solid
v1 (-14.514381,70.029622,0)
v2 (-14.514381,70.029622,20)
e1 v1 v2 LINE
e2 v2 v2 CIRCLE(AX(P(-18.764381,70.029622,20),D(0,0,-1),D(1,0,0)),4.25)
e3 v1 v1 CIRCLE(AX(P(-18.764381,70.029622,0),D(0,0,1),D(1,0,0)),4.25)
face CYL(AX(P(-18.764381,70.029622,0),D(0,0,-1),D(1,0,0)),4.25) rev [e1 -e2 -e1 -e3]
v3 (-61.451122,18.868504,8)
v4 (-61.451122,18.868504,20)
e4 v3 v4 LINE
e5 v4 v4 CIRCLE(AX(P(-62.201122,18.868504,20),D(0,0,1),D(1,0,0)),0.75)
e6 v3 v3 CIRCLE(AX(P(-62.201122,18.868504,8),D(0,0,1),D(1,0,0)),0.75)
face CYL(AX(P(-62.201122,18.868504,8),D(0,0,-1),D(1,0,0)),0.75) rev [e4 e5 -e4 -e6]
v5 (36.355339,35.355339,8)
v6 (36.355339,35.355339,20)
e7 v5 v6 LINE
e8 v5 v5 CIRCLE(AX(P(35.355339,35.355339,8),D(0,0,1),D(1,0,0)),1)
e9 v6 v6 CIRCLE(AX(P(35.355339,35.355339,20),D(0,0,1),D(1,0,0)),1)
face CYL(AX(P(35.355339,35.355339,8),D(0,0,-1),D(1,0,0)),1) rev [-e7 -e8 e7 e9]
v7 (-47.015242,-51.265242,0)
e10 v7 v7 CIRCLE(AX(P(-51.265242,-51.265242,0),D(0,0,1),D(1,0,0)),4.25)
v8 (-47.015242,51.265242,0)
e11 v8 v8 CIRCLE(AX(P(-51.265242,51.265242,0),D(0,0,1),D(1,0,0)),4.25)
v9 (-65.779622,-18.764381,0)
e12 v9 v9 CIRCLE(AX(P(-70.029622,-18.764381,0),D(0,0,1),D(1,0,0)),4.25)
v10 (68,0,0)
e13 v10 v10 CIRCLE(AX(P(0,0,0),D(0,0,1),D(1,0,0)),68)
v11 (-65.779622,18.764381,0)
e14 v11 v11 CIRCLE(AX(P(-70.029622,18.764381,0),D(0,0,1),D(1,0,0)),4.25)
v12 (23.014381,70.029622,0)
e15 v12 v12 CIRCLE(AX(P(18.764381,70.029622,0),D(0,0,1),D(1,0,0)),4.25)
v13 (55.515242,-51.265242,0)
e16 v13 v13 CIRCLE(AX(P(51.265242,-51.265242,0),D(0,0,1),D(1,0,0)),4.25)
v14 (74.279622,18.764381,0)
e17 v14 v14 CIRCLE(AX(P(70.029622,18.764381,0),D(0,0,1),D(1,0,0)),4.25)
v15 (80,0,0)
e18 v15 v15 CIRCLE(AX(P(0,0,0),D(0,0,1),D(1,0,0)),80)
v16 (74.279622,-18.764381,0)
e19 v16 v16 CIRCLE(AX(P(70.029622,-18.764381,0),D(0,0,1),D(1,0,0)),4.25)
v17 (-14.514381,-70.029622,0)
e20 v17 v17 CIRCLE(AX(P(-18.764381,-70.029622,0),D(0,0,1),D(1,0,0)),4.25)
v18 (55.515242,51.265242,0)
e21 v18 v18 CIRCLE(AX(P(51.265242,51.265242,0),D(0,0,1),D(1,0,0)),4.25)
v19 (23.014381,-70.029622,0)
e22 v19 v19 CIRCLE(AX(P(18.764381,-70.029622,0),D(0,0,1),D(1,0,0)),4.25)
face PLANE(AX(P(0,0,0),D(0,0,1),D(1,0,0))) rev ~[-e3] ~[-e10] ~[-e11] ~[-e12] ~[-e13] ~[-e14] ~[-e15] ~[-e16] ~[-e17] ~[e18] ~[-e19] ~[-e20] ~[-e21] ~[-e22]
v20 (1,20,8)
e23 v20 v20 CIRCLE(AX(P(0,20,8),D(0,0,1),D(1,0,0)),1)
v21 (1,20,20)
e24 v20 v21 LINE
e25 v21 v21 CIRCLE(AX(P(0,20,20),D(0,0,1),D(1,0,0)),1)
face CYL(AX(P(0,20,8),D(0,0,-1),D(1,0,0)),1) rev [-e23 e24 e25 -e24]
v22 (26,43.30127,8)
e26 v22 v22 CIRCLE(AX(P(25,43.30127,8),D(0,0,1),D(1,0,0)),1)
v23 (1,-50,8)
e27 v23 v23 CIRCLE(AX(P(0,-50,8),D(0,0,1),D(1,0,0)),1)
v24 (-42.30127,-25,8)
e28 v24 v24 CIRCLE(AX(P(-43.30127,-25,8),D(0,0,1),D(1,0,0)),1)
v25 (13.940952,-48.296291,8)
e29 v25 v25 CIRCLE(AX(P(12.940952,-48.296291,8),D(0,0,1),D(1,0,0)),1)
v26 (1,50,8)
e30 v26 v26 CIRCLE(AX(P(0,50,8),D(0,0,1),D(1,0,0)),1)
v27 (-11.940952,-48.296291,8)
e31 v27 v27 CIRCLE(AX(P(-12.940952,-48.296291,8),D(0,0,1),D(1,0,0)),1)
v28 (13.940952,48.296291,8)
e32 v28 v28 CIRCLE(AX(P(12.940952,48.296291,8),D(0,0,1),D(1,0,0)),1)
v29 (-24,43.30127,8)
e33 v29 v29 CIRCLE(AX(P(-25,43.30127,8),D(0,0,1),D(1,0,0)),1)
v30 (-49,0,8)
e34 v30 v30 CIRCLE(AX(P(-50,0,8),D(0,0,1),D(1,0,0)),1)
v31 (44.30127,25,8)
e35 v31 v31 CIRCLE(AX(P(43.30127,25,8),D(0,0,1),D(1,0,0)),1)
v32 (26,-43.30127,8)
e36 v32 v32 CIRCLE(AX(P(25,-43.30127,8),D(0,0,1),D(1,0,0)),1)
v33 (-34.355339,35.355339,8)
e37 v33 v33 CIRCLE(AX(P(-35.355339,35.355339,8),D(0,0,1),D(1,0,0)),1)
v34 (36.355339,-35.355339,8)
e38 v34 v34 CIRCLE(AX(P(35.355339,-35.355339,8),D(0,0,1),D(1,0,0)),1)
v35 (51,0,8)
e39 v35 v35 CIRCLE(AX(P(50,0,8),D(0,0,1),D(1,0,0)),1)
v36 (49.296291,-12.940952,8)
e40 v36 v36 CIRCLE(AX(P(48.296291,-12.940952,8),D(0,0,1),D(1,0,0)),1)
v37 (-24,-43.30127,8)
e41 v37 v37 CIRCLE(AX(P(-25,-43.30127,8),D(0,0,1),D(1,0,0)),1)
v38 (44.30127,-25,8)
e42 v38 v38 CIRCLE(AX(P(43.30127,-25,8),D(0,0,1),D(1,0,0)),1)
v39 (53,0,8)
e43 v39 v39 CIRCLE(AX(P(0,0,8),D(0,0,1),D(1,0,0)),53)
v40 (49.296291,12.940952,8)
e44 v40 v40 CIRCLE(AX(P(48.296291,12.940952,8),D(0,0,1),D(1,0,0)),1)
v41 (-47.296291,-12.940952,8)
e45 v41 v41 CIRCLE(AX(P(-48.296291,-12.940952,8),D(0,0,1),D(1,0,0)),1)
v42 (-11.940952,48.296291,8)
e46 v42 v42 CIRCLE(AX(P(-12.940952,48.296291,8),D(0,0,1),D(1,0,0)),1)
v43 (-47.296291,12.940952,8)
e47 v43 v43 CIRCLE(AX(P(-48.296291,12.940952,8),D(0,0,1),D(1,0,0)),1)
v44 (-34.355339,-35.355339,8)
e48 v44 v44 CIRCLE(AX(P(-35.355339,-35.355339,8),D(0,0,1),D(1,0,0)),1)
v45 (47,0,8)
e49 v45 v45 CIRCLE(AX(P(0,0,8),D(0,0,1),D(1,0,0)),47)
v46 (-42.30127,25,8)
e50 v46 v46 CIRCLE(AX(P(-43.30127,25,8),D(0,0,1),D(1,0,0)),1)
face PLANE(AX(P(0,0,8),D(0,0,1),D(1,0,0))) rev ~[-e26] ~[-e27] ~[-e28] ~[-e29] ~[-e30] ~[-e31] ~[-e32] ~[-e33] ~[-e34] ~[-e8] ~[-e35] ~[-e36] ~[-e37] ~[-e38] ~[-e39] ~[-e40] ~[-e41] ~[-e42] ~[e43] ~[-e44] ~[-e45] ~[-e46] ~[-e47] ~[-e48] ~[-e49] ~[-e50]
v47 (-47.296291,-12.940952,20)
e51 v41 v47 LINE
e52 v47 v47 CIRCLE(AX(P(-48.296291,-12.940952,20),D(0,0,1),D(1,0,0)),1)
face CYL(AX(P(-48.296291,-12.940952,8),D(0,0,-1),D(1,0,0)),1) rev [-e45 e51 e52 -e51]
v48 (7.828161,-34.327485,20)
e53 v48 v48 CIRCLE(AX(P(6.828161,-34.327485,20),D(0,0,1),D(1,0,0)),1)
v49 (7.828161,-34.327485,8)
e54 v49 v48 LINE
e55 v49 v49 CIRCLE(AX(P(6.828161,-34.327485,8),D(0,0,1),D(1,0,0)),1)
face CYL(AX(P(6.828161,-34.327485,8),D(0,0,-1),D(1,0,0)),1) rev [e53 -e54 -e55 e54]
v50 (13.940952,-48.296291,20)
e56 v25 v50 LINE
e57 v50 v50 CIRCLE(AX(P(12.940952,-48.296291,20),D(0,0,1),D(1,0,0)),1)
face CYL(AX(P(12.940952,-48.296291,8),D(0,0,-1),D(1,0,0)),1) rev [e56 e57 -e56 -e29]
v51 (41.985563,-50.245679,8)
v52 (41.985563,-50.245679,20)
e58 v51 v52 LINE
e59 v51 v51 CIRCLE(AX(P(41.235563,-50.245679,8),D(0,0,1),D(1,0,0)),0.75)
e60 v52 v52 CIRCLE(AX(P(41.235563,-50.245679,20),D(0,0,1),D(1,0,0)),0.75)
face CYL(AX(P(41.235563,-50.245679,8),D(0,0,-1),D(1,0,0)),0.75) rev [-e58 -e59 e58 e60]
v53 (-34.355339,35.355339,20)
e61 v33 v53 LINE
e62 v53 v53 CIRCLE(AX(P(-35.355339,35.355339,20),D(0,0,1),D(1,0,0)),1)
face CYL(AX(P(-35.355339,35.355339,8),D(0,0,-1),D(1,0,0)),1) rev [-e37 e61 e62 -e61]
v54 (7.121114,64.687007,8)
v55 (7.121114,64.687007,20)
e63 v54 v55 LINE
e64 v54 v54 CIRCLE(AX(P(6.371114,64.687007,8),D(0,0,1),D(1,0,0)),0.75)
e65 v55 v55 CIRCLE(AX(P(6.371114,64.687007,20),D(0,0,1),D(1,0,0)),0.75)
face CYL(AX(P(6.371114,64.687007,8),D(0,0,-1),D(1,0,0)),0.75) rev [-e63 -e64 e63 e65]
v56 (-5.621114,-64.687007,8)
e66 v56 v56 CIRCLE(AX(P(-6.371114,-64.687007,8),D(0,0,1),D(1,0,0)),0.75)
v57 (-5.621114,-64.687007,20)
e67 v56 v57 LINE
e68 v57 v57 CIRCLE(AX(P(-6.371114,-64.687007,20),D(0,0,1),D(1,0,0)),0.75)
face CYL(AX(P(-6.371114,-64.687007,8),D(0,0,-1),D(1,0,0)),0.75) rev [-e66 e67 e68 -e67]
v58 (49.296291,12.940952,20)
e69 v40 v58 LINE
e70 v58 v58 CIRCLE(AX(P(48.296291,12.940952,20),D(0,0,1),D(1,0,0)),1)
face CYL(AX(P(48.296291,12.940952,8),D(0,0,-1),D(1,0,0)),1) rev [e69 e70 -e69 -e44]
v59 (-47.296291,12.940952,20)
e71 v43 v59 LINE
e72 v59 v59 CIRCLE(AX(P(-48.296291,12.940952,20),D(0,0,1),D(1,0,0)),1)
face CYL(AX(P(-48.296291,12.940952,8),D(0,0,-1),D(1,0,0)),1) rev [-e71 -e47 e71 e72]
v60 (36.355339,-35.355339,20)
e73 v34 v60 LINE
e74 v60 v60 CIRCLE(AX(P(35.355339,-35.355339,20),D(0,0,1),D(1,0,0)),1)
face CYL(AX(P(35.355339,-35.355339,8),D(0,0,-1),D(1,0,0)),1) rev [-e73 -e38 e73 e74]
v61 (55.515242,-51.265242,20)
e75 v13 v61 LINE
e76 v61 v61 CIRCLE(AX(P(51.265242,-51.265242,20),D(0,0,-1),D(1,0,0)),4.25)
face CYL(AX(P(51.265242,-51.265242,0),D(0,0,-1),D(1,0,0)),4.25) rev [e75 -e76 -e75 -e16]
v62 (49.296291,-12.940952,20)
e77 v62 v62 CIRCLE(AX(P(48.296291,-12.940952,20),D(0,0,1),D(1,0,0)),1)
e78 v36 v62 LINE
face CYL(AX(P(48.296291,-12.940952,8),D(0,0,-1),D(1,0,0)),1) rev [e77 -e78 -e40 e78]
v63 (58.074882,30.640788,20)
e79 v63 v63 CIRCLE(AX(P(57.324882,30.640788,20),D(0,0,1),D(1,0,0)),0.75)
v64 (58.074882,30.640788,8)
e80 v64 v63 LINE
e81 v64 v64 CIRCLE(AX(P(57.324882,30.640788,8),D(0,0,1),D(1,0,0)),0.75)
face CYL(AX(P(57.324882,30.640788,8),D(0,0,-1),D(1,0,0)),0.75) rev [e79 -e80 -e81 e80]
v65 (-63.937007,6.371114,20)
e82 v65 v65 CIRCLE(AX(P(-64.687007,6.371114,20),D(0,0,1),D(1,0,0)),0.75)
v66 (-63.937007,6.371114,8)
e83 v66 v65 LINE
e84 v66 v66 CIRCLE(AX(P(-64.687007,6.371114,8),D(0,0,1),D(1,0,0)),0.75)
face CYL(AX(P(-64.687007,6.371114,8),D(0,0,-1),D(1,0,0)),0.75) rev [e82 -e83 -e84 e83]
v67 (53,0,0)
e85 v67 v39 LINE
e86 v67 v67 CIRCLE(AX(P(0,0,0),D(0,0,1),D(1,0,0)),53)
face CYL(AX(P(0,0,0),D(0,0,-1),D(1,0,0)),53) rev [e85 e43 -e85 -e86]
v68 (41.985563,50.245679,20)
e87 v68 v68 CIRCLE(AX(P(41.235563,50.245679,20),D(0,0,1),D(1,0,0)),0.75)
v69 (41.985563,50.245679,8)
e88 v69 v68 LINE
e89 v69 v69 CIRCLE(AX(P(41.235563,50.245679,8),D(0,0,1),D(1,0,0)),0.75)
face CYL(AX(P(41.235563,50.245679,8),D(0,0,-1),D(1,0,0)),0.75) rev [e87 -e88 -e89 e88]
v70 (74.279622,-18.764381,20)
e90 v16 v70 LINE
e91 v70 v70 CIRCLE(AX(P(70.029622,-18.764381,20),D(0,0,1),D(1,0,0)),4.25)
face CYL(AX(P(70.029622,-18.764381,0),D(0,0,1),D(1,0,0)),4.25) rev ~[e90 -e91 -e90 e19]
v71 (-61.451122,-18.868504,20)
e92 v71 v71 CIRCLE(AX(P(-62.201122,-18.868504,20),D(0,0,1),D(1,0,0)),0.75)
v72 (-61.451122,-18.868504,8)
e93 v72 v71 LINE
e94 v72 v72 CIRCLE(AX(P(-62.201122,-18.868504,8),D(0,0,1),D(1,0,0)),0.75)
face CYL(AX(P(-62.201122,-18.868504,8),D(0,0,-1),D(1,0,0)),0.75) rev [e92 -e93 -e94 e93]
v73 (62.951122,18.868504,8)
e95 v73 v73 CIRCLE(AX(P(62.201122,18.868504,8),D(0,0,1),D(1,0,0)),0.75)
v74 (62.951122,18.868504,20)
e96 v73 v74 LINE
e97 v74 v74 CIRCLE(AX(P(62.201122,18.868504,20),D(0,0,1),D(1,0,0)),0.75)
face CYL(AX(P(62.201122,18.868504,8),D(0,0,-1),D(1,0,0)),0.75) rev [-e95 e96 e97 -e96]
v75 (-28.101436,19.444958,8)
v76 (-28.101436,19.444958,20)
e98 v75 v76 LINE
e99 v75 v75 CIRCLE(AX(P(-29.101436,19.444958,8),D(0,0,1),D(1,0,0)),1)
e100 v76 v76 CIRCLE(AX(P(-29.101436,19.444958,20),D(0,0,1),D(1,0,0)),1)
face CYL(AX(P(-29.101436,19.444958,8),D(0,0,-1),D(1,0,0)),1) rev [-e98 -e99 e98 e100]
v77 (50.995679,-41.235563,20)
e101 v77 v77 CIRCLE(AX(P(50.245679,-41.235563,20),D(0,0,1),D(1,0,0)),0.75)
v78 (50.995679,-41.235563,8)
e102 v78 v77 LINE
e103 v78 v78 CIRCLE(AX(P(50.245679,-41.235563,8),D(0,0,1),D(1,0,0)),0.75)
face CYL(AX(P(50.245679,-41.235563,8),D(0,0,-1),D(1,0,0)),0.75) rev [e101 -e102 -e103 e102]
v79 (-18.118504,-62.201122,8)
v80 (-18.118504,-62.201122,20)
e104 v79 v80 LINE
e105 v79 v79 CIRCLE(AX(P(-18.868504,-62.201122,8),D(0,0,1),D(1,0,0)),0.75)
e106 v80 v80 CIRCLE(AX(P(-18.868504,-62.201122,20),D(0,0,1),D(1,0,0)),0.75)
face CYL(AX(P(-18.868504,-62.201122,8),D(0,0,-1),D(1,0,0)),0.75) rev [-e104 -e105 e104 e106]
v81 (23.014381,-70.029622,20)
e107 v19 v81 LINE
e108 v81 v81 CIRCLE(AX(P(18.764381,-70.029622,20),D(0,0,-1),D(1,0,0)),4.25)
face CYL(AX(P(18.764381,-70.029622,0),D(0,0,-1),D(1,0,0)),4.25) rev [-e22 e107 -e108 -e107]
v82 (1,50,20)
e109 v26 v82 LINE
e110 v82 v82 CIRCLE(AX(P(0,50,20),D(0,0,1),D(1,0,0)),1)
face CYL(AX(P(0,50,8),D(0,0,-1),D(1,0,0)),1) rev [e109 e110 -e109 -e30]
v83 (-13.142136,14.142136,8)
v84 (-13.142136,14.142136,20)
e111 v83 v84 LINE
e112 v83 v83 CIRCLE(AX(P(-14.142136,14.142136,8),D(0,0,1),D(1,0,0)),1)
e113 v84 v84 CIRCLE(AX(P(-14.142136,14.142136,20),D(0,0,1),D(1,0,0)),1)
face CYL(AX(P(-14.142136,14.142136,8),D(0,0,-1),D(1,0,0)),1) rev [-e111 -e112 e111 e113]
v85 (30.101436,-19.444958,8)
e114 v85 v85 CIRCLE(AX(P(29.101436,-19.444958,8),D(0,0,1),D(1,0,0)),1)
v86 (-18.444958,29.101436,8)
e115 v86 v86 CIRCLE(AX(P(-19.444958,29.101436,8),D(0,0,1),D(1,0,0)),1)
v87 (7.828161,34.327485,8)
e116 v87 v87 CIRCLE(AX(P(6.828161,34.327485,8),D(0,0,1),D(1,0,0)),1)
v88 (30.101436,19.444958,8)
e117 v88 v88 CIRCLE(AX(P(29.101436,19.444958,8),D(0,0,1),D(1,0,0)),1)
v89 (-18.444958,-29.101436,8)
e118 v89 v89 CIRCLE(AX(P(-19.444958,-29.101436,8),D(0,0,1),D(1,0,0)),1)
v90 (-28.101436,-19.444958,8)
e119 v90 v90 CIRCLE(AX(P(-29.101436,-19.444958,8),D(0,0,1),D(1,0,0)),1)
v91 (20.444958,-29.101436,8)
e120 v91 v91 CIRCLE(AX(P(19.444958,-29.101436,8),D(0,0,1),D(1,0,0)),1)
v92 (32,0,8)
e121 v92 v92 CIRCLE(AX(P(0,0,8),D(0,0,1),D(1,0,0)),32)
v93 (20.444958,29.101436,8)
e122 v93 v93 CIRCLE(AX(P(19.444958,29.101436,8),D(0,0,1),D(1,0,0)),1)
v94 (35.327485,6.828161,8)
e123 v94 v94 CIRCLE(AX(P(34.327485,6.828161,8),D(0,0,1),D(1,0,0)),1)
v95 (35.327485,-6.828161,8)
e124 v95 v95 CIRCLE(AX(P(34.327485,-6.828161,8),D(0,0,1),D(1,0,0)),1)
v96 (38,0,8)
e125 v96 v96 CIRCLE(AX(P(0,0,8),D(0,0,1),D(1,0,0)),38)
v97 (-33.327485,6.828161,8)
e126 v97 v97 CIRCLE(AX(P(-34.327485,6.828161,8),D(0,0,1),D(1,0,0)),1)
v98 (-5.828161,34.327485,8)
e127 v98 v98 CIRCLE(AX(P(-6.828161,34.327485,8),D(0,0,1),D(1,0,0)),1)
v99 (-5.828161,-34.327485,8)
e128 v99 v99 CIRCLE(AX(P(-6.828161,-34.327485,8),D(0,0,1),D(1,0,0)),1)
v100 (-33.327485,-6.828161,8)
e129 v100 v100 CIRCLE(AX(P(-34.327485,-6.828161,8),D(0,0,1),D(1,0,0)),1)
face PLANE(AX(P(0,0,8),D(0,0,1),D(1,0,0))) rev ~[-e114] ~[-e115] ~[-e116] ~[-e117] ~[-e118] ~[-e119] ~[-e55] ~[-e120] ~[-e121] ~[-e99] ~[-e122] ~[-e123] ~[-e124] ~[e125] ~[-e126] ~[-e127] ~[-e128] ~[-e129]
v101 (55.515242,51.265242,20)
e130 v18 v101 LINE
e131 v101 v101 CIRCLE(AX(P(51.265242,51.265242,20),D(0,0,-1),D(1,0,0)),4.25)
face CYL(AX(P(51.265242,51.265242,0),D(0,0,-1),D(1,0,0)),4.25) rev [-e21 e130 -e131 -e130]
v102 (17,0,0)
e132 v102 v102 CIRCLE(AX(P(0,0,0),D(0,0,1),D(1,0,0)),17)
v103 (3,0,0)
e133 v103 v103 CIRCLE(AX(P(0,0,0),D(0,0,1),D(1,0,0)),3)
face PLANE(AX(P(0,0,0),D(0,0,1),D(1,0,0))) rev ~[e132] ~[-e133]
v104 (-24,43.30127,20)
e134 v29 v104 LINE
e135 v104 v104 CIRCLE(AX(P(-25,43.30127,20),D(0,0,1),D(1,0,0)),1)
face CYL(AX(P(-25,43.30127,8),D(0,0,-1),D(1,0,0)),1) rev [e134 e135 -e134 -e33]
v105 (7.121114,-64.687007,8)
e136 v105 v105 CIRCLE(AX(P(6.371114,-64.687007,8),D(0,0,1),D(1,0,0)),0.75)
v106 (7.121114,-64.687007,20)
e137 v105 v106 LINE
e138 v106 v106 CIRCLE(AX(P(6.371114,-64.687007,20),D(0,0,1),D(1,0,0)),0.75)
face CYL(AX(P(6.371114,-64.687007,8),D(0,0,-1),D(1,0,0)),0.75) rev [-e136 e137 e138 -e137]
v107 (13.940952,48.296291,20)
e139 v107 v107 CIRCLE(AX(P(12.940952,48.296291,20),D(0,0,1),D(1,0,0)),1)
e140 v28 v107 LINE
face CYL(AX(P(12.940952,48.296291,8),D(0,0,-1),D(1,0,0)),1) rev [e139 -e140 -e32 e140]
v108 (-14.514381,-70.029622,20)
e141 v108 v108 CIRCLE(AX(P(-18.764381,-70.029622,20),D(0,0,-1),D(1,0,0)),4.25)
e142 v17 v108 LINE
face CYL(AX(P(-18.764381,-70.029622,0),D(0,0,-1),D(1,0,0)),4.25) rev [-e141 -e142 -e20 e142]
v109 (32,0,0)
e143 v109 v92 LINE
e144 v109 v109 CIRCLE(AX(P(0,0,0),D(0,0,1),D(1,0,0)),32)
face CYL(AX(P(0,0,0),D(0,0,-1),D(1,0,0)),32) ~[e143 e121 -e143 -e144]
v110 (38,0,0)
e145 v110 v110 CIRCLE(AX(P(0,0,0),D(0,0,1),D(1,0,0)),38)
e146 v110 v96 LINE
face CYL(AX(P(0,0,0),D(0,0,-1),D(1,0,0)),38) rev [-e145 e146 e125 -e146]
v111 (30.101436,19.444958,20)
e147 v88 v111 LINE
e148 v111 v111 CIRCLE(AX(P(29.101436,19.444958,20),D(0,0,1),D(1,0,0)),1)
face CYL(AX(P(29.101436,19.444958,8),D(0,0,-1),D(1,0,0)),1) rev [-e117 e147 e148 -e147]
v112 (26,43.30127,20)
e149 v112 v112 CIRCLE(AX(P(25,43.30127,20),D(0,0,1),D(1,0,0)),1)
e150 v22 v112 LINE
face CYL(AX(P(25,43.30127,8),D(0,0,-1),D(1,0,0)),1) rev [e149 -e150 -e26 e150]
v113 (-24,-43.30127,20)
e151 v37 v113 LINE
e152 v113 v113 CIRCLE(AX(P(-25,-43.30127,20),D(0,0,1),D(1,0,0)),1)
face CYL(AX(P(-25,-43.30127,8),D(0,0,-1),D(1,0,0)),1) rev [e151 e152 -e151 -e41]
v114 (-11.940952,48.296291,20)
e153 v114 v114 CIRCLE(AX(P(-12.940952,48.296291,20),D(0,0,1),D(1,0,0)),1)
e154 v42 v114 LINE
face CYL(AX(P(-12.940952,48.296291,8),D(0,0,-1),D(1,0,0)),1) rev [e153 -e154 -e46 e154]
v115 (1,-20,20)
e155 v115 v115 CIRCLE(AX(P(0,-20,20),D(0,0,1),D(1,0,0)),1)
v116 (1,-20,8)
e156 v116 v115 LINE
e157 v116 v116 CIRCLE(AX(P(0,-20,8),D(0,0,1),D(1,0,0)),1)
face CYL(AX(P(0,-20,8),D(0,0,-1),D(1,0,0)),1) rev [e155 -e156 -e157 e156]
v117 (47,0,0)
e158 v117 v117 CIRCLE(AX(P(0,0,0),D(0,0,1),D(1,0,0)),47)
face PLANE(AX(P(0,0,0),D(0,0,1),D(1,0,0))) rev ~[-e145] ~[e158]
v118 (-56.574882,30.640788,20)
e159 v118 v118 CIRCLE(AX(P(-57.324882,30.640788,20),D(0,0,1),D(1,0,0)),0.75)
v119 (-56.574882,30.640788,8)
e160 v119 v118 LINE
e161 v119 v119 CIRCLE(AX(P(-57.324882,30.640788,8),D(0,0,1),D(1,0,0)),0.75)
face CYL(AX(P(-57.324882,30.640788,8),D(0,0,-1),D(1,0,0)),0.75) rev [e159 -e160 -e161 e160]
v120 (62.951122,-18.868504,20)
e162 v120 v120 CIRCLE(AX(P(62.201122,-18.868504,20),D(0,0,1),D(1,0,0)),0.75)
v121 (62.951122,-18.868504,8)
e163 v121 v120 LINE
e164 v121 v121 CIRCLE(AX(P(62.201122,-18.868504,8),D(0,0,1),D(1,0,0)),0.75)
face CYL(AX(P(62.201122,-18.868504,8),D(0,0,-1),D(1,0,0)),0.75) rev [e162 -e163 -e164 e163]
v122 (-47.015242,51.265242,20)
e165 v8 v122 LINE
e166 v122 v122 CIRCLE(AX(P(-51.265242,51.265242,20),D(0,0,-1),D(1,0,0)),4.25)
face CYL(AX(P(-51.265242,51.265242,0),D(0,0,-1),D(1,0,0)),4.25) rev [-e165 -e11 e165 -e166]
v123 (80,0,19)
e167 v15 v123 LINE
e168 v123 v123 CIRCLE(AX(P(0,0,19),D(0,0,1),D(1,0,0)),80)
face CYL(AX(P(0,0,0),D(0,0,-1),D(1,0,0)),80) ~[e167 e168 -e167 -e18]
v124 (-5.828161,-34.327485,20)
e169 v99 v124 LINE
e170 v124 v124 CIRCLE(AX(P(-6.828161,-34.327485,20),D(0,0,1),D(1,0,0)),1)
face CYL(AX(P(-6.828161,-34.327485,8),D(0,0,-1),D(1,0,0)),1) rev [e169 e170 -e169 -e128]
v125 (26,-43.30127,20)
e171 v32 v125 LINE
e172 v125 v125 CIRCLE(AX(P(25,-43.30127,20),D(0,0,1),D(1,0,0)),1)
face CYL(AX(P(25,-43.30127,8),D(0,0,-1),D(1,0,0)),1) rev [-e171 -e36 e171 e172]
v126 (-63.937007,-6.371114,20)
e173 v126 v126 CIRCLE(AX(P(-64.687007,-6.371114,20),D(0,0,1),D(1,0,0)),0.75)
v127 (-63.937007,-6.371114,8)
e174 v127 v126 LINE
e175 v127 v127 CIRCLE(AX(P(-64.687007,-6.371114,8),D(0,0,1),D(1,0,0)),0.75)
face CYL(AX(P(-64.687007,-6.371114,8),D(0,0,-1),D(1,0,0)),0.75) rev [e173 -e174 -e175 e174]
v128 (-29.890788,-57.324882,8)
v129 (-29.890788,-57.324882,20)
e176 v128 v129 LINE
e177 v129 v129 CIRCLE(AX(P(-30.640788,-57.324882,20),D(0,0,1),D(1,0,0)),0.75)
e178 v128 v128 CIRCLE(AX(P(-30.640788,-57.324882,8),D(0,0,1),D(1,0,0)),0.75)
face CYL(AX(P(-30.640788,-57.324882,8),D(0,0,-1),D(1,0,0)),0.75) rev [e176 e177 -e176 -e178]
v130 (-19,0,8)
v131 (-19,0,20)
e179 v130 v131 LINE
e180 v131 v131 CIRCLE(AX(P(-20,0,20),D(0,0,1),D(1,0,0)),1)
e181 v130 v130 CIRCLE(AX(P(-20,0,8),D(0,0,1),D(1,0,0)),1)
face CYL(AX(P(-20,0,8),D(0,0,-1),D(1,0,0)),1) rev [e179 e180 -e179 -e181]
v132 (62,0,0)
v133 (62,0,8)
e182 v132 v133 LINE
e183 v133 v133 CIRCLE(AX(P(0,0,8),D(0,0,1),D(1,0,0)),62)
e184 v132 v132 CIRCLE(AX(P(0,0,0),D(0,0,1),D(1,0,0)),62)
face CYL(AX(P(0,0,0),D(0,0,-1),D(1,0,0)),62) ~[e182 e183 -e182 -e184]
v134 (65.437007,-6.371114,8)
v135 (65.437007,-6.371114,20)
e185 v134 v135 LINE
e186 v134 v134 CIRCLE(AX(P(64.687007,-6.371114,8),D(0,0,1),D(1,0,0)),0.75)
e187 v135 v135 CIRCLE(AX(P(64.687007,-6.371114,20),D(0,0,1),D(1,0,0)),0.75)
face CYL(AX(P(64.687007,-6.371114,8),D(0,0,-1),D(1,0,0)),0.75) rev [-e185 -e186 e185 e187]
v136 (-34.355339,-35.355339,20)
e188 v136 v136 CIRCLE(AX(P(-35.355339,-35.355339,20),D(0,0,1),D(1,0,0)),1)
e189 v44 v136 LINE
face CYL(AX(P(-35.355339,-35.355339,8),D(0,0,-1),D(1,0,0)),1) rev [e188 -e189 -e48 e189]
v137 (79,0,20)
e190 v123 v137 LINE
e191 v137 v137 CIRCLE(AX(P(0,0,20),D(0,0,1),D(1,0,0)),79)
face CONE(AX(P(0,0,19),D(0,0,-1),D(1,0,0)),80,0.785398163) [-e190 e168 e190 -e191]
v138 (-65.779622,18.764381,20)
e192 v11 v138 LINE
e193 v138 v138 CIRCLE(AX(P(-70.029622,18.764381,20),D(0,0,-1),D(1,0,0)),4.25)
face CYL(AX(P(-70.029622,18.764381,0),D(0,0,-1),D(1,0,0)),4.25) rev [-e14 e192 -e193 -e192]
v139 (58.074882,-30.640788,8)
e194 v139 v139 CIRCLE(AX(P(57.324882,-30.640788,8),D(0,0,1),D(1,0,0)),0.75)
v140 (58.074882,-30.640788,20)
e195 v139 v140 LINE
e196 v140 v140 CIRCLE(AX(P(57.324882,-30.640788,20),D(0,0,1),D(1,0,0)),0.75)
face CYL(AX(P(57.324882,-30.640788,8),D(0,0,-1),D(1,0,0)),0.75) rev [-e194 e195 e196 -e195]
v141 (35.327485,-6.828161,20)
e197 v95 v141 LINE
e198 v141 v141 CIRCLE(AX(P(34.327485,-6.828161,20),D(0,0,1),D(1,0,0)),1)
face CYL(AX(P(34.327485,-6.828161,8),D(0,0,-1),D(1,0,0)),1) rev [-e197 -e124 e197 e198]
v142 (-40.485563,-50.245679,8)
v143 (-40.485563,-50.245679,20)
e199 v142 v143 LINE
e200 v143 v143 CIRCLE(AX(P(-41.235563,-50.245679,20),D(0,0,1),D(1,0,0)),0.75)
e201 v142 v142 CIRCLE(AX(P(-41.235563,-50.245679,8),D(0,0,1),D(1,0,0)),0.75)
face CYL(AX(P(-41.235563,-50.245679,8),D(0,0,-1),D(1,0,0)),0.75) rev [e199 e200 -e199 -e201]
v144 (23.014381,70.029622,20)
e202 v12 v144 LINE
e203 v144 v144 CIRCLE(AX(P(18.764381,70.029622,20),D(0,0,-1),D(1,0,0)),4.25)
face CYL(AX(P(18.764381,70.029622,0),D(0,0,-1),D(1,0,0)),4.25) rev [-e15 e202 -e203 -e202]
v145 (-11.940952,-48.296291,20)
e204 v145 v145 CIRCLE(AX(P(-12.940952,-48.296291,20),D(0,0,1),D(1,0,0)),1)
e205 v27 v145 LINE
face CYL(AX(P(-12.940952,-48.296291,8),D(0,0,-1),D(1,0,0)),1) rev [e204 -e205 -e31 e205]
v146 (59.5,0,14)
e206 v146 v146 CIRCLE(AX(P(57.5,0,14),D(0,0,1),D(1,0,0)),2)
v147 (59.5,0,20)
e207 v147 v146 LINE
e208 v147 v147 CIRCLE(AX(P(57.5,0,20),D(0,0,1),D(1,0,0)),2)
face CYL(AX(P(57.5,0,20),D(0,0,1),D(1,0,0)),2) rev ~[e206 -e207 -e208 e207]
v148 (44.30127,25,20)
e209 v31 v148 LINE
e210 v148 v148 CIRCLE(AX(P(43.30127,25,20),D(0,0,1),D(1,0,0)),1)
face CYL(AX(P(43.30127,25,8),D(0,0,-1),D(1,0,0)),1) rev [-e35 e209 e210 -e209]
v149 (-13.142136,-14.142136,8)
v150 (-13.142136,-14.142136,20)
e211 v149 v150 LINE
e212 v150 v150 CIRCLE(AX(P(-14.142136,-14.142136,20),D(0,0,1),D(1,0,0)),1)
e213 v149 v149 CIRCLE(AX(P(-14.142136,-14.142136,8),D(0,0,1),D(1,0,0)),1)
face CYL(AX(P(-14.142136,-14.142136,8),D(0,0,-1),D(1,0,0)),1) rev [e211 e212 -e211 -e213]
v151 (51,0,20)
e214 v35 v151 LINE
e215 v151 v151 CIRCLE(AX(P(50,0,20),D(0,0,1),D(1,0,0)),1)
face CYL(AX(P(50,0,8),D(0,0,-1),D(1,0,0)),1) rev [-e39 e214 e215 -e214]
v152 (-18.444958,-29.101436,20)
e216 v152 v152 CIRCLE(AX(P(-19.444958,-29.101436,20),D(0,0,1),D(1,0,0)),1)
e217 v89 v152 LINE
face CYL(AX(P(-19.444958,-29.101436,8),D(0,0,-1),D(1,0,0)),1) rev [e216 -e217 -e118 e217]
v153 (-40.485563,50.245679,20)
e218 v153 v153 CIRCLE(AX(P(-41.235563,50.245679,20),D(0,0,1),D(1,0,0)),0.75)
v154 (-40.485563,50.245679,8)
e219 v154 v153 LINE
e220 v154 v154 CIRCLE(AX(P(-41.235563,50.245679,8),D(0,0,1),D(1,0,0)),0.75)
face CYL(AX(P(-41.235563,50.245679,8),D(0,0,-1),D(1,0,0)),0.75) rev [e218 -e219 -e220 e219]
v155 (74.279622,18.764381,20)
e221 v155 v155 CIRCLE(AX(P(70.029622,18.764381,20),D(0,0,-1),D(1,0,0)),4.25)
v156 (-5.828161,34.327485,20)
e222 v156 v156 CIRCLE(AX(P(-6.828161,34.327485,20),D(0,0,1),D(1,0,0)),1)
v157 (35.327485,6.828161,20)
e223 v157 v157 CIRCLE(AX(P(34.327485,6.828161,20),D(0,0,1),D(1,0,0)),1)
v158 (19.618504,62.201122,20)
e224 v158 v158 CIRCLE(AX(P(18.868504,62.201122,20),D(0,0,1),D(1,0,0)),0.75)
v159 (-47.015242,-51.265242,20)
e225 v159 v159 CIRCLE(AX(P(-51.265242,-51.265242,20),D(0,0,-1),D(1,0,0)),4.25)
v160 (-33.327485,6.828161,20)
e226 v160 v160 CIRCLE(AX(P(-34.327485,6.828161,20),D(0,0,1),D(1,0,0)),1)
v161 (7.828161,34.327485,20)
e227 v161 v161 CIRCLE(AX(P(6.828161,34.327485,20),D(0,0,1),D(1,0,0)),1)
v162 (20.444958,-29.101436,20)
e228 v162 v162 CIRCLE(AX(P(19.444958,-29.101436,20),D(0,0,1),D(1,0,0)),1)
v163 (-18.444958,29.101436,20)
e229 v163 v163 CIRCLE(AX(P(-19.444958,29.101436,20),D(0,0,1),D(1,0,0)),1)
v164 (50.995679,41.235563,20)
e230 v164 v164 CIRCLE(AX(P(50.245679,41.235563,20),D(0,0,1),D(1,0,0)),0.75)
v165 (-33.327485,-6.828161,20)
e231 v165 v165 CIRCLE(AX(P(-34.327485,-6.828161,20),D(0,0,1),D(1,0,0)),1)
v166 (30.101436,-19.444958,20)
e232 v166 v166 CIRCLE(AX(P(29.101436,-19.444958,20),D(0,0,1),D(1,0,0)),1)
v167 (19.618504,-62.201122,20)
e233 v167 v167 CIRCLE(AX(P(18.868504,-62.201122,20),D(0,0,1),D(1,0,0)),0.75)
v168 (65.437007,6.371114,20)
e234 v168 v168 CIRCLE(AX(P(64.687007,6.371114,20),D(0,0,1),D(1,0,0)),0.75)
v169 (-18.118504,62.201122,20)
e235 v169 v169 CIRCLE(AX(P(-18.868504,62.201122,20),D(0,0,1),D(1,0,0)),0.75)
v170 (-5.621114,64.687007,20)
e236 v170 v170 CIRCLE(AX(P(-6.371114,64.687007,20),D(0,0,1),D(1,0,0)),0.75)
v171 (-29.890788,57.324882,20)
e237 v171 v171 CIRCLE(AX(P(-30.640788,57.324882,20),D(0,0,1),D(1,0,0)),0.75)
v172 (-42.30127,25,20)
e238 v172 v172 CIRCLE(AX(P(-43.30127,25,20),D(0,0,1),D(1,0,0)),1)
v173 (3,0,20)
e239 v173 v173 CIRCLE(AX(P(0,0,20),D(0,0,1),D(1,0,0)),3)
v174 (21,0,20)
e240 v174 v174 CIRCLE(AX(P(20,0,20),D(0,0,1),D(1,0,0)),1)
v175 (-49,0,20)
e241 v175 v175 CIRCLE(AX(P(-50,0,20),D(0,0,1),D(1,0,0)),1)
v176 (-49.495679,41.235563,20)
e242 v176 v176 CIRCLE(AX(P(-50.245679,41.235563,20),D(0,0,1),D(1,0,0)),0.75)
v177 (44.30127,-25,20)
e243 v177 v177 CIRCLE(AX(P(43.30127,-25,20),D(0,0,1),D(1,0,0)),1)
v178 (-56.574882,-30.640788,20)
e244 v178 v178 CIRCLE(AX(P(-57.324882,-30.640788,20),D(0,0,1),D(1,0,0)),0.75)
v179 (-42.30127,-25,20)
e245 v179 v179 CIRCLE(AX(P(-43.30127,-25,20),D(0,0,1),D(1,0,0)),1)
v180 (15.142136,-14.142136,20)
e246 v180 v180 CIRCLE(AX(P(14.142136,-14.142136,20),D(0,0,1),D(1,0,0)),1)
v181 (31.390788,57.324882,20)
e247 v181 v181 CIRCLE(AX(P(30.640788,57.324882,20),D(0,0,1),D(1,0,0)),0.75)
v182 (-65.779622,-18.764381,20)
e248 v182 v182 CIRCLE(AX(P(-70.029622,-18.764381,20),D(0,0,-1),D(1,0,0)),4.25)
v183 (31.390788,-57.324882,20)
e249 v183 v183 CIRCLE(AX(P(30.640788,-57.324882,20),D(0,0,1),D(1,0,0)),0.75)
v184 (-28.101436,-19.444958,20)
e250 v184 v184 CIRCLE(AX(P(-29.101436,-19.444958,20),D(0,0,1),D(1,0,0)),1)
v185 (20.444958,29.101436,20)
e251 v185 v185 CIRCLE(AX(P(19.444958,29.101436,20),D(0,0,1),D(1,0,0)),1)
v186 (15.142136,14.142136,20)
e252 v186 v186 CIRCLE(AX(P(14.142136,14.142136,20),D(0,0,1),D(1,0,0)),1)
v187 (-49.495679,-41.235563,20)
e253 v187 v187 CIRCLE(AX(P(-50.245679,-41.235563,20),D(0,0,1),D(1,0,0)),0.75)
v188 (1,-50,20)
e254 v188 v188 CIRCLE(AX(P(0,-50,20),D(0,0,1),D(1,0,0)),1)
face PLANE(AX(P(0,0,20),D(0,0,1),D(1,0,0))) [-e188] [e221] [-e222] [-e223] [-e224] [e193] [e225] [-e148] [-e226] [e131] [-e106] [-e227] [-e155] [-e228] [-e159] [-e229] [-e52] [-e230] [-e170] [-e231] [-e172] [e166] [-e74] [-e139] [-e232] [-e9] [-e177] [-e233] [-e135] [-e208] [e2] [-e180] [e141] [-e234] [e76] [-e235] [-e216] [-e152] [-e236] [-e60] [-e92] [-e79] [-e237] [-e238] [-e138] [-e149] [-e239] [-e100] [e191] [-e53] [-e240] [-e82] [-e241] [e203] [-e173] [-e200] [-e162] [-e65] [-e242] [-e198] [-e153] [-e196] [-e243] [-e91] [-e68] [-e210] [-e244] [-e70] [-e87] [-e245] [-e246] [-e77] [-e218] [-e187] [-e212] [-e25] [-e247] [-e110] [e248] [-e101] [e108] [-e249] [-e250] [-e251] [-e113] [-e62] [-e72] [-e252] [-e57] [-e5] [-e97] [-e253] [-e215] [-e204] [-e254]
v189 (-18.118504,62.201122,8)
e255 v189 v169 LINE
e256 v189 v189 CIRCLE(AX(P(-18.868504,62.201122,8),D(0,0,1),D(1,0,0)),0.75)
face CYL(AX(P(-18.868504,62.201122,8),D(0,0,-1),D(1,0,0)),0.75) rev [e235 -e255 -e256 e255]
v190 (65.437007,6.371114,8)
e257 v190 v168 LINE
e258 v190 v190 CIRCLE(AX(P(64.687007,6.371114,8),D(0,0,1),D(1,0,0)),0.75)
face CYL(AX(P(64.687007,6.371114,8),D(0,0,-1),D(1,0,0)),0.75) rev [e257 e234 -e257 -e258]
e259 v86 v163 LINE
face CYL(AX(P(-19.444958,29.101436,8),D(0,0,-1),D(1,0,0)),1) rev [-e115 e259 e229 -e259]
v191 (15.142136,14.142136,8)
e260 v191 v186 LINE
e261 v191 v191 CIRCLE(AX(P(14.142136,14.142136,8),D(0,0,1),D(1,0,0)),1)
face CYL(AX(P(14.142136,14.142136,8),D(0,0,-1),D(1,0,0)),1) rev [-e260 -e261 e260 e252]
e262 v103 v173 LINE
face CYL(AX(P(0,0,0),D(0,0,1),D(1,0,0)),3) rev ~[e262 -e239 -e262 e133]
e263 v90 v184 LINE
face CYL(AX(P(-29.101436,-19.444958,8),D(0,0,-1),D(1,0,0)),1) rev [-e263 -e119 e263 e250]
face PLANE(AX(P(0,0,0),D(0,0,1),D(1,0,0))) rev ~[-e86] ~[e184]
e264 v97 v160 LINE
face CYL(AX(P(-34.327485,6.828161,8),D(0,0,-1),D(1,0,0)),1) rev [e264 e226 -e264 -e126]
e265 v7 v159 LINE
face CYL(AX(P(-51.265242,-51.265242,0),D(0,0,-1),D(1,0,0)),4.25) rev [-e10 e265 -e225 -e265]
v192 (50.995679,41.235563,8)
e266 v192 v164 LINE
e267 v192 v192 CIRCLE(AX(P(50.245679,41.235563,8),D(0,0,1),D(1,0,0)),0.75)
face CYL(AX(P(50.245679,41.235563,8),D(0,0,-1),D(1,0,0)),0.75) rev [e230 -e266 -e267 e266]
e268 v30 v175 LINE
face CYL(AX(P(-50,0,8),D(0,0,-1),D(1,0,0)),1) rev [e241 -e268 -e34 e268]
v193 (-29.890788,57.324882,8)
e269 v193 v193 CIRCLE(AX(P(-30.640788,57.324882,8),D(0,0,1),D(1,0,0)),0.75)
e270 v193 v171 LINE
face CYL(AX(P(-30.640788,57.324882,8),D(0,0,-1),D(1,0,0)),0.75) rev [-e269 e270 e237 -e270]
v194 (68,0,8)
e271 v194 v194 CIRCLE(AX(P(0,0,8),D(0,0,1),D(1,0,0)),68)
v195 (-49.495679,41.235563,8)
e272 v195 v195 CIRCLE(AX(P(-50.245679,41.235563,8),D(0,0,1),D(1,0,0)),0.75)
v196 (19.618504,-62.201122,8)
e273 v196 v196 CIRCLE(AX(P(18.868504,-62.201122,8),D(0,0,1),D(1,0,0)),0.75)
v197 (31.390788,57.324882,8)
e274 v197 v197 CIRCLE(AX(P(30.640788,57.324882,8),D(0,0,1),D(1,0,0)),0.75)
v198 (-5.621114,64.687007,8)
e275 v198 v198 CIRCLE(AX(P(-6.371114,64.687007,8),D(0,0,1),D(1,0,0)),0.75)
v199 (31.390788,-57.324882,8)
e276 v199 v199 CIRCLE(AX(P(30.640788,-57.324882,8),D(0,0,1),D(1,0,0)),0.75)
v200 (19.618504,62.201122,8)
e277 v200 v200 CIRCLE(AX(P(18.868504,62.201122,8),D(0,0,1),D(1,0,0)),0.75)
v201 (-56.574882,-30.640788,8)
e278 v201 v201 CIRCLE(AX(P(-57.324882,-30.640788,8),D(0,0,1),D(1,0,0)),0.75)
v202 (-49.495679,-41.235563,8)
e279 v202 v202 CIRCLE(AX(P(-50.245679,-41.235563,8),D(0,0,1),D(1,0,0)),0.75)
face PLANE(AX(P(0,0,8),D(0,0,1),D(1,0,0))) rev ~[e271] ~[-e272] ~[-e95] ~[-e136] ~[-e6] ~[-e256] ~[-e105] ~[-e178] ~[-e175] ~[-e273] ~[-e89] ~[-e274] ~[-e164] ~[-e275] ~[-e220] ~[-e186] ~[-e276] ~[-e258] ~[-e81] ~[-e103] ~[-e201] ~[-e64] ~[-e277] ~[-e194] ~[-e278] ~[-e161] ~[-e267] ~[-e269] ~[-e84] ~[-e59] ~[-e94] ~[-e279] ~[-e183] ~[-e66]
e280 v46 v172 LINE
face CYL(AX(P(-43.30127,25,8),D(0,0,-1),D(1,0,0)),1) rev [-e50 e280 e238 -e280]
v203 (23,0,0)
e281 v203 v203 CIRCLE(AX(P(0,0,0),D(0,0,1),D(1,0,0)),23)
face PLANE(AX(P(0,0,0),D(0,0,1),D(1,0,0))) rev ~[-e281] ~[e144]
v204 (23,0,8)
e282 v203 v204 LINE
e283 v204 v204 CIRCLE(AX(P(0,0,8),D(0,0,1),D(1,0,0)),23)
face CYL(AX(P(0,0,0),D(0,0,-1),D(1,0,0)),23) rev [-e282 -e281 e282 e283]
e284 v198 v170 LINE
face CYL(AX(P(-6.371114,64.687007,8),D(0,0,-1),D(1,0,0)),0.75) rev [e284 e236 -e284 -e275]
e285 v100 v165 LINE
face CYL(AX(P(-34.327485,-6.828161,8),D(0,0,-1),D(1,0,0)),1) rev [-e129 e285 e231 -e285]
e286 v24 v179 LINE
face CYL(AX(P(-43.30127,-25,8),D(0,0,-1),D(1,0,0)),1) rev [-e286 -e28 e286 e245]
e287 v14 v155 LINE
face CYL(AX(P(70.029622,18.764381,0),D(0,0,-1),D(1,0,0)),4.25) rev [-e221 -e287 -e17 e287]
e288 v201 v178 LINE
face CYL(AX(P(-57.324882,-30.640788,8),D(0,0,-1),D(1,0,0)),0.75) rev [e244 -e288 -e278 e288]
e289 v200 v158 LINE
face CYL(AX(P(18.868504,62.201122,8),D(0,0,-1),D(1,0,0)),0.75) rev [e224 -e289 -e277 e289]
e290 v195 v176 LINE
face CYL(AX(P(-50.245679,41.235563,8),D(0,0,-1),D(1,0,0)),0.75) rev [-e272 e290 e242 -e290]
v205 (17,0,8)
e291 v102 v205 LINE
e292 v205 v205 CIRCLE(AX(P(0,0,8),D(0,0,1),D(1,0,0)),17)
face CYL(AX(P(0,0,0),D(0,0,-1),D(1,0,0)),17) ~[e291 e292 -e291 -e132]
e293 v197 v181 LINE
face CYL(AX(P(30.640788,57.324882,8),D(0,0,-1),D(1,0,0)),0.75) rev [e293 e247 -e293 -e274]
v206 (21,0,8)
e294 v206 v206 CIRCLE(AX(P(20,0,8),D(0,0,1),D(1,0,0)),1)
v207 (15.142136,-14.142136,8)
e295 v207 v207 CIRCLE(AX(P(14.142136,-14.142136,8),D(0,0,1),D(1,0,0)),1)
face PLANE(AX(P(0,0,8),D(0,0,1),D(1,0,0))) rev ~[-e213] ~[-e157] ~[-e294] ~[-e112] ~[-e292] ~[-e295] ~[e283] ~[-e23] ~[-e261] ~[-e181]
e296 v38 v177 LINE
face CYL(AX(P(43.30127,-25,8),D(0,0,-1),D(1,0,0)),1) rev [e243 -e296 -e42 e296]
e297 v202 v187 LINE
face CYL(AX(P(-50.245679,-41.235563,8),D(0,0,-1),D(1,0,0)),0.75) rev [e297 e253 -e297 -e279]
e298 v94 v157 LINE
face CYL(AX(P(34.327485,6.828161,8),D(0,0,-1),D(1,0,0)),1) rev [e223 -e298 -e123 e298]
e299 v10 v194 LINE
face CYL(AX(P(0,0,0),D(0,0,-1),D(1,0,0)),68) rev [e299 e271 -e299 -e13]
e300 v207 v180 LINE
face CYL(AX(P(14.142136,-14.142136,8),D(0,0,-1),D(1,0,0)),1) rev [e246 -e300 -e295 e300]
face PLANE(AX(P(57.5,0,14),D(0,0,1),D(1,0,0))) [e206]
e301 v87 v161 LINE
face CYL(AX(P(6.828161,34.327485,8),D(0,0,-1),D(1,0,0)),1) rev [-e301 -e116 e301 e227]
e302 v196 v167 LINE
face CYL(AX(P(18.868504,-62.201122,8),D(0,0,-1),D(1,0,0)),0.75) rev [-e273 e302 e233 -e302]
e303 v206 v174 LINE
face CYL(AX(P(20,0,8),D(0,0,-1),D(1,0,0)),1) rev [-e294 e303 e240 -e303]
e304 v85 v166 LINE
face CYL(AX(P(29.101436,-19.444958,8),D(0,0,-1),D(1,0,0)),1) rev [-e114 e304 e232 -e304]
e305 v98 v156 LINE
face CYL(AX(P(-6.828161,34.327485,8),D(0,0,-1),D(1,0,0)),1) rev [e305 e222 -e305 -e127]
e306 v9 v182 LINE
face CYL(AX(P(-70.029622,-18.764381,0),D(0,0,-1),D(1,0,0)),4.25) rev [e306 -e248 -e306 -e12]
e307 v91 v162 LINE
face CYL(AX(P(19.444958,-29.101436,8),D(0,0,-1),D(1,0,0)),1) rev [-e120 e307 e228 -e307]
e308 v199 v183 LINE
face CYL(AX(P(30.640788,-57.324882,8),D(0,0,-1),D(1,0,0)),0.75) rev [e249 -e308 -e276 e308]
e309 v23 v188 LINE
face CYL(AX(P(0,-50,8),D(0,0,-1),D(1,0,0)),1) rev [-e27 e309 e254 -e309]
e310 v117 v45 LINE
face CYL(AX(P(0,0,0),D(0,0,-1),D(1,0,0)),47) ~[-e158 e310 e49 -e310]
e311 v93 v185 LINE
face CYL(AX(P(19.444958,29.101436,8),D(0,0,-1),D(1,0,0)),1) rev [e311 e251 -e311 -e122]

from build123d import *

# Parameters (mm, degrees)
SKETCH_1_R           = 80
EXTRUDE_1_DEPTH      = 20
SKETCH_2_R           = 23
SKETCH_2_R_2         = 17
CUT_EXTRUDE_1_DEPTH  = 8
SKETCH_3_R           = 38
SKETCH_3_R_2         = 32
CUT_EXTRUDE_2_DEPTH  = 8
SKETCH_4_R           = 53
SKETCH_4_R_2         = 47
CUT_EXTRUDE_3_DEPTH  = 8
SKETCH_5_R           = 68
SKETCH_5_R_2         = 62
CUT_EXTRUDE_4_DEPTH  = 8
SKETCH_6_R           = 1
CUT_EXTRUDE_5_DEPTH  = 12
SKETCH_7_R           = 1
CUT_EXTRUDE_6_DEPTH  = 12
SKETCH_8_R           = 1
CUT_EXTRUDE_7_DEPTH  = 12
SKETCH_9_R           = 0.75
CUT_EXTRUDE_8_DEPTH  = 12
SKETCH_10_R          = 3
CUT_EXTRUDE_9_DEPTH  = 161
SKETCH_11_R          = 2
CUT_EXTRUDE_10_DEPTH = 6
SKETCH_12_R          = 4.25
CUT_EXTRUDE_11_DEPTH = 161
CHAMFER_1_SIZE       = 1


with BuildPart() as part:
    # 草图1 → 凸台-拉伸1 (new body)
    with BuildSketch(Plane.XY):
        Circle(SKETCH_1_R)
    extrude(amount=EXTRUDE_1_DEPTH)

    # 草图2 → 切除-拉伸1 (cut)
    with BuildSketch(Plane.XY):
        Circle(SKETCH_2_R)
        Circle(SKETCH_2_R_2, mode=Mode.SUBTRACT)
    extrude(amount=CUT_EXTRUDE_1_DEPTH, mode=Mode.SUBTRACT)

    # 草图3 → 切除-拉伸2 (cut)
    with BuildSketch(Plane.XY):
        Circle(SKETCH_3_R)
        Circle(SKETCH_3_R_2, mode=Mode.SUBTRACT)
    extrude(amount=CUT_EXTRUDE_2_DEPTH, mode=Mode.SUBTRACT)

    # 草图4 → 切除-拉伸3 (cut)
    with BuildSketch(Plane.XY):
        Circle(SKETCH_4_R)
        Circle(SKETCH_4_R_2, mode=Mode.SUBTRACT)
    extrude(amount=CUT_EXTRUDE_3_DEPTH, mode=Mode.SUBTRACT)

    # 草图5 → 切除-拉伸4 (cut)
    with BuildSketch(Plane.XY):
        Circle(SKETCH_5_R)
        Circle(SKETCH_5_R_2, mode=Mode.SUBTRACT)
    extrude(amount=CUT_EXTRUDE_4_DEPTH, mode=Mode.SUBTRACT)

    # 草图6 → 切除-拉伸5 (cut)
    with BuildSketch(Plane.XY.offset(8)):
        with Locations((20, 0)):
            Circle(SKETCH_6_R)
        with Locations((14.142136, 14.142136)):
            Circle(SKETCH_6_R)
        with Locations((0, 20)):
            Circle(SKETCH_6_R)
        with Locations((-14.142136, 14.142136)):
            Circle(SKETCH_6_R)
        with Locations((-20, 0)):
            Circle(SKETCH_6_R)
        with Locations((-14.142136, -14.142136)):
            Circle(SKETCH_6_R)
        with Locations((0, -20)):
            Circle(SKETCH_6_R)
        with Locations((14.142136, -14.142136)):
            Circle(SKETCH_6_R)
    extrude(amount=CUT_EXTRUDE_5_DEPTH, mode=Mode.SUBTRACT)

    # 草图7 → 切除-拉伸6 (cut)
    with BuildSketch(Plane.XY.offset(8)):
        with Locations((34.327485, 6.828161)):
            Circle(SKETCH_7_R)
        with Locations((29.101436, 19.444958)):
            Circle(SKETCH_7_R)
        with Locations((19.444958, 29.101436)):
            Circle(SKETCH_7_R)
        with Locations((6.828161, 34.327485)):
            Circle(SKETCH_7_R)
        with Locations((-6.828161, 34.327485)):
            Circle(SKETCH_7_R)
        with Locations((-19.444958, 29.101436)):
            Circle(SKETCH_7_R)
        with Locations((-29.101436, 19.444958)):
            Circle(SKETCH_7_R)
        with Locations((-34.327485, 6.828161)):
            Circle(SKETCH_7_R)
        with Locations((-34.327485, -6.828161)):
            Circle(SKETCH_7_R)
        with Locations((-29.101436, -19.444958)):
            Circle(SKETCH_7_R)
        with Locations((-19.444958, -29.101436)):
            Circle(SKETCH_7_R)
        with Locations((-6.828161, -34.327485)):
            Circle(SKETCH_7_R)
        with Locations((6.828161, -34.327485)):
            Circle(SKETCH_7_R)
        with Locations((19.444958, -29.101436)):
            Circle(SKETCH_7_R)
        with Locations((29.101436, -19.444958)):
            Circle(SKETCH_7_R)
        with Locations((34.327485, -6.828161)):
            Circle(SKETCH_7_R)
    extrude(amount=CUT_EXTRUDE_6_DEPTH, mode=Mode.SUBTRACT)

    # 草图8 → 切除-拉伸7 (cut)
    with BuildSketch(Plane.XY.offset(8)):
        with Locations((50, 0)):
            Circle(SKETCH_8_R)
        with Locations((48.296291, 12.940952)):
            Circle(SKETCH_8_R)
        with Locations((43.30127, 25)):
            Circle(SKETCH_8_R)
        with Locations((35.355339, 35.355339)):
            Circle(SKETCH_8_R)
        with Locations((25, 43.30127)):
            Circle(SKETCH_8_R)
        with Locations((12.940952, 48.296291)):
            Circle(SKETCH_8_R)
        with Locations((0, 50)):
            Circle(SKETCH_8_R)
        with Locations((-12.940952, 48.296291)):
            Circle(SKETCH_8_R)
        with Locations((-25, 43.30127)):
            Circle(SKETCH_8_R)
        with Locations((-35.355339, 35.355339)):
            Circle(SKETCH_8_R)
        with Locations((-43.30127, 25)):
            Circle(SKETCH_8_R)
        with Locations((-48.296291, 12.940952)):
            Circle(SKETCH_8_R)
        with Locations((-50, 0)):
            Circle(SKETCH_8_R)
        with Locations((-48.296291, -12.940952)):
            Circle(SKETCH_8_R)
        with Locations((-43.30127, -25)):
            Circle(SKETCH_8_R)
        with Locations((-35.355339, -35.355339)):
            Circle(SKETCH_8_R)
        with Locations((-25, -43.30127)):
            Circle(SKETCH_8_R)
        with Locations((-12.940952, -48.296291)):
            Circle(SKETCH_8_R)
        with Locations((0, -50)):
            Circle(SKETCH_8_R)
        with Locations((12.940952, -48.296291)):
            Circle(SKETCH_8_R)
        with Locations((25, -43.30127)):
            Circle(SKETCH_8_R)
        with Locations((35.355339, -35.355339)):
            Circle(SKETCH_8_R)
        with Locations((43.30127, -25)):
            Circle(SKETCH_8_R)
        with Locations((48.296291, -12.940952)):
            Circle(SKETCH_8_R)
    extrude(amount=CUT_EXTRUDE_7_DEPTH, mode=Mode.SUBTRACT)

    # 草图9 → 切除-拉伸8 (cut)
    with BuildSketch(Plane.XY.offset(8)):
        with Locations((64.687007, 6.371114)):
            Circle(SKETCH_9_R)
        with Locations((62.201122, 18.868504)):
            Circle(SKETCH_9_R)
        with Locations((57.324882, 30.640788)):
            Circle(SKETCH_9_R)
        with Locations((50.245679, 41.235563)):
            Circle(SKETCH_9_R)
        with Locations((41.235563, 50.245679)):
            Circle(SKETCH_9_R)
        with Locations((30.640788, 57.324882)):
            Circle(SKETCH_9_R)
        with Locations((18.868504, 62.201122)):
            Circle(SKETCH_9_R)
        with Locations((6.371114, 64.687007)):
            Circle(SKETCH_9_R)
        with Locations((-6.371114, 64.687007)):
            Circle(SKETCH_9_R)
        with Locations((-18.868504, 62.201122)):
            Circle(SKETCH_9_R)
        with Locations((-30.640788, 57.324882)):
            Circle(SKETCH_9_R)
        with Locations((-41.235563, 50.245679)):
            Circle(SKETCH_9_R)
        with Locations((-50.245679, 41.235563)):
            Circle(SKETCH_9_R)
        with Locations((-57.324882, 30.640788)):
            Circle(SKETCH_9_R)
        with Locations((-62.201122, 18.868504)):
            Circle(SKETCH_9_R)
        with Locations((-64.687007, 6.371114)):
            Circle(SKETCH_9_R)
        with Locations((-64.687007, -6.371114)):
            Circle(SKETCH_9_R)
        with Locations((-62.201122, -18.868504)):
            Circle(SKETCH_9_R)
        with Locations((-57.324882, -30.640788)):
            Circle(SKETCH_9_R)
        with Locations((-50.245679, -41.235563)):
            Circle(SKETCH_9_R)
        with Locations((-41.235563, -50.245679)):
            Circle(SKETCH_9_R)
        with Locations((-30.640788, -57.324882)):
            Circle(SKETCH_9_R)
        with Locations((-18.868504, -62.201122)):
            Circle(SKETCH_9_R)
        with Locations((-6.371114, -64.687007)):
            Circle(SKETCH_9_R)
        with Locations((6.371114, -64.687007)):
            Circle(SKETCH_9_R)
        with Locations((18.868504, -62.201122)):
            Circle(SKETCH_9_R)
        with Locations((30.640788, -57.324882)):
            Circle(SKETCH_9_R)
        with Locations((41.235563, -50.245679)):
            Circle(SKETCH_9_R)
        with Locations((50.245679, -41.235563)):
            Circle(SKETCH_9_R)
        with Locations((57.324882, -30.640788)):
            Circle(SKETCH_9_R)
        with Locations((62.201122, -18.868504)):
            Circle(SKETCH_9_R)
        with Locations((64.687007, -6.371114)):
            Circle(SKETCH_9_R)
    extrude(amount=CUT_EXTRUDE_8_DEPTH, mode=Mode.SUBTRACT)

    # 草图10 → 切除-拉伸9 (cut, symmetric)
    with BuildSketch(Plane.XY):
        Circle(SKETCH_10_R)
    extrude(amount=CUT_EXTRUDE_9_DEPTH, both=True, mode=Mode.SUBTRACT)

    # 草图11 → 切除-拉伸10 (cut)
    with BuildSketch(Plane.XY.offset(20)):
        with Locations((57.5, 0)):
            Circle(SKETCH_11_R)
    extrude(amount=-CUT_EXTRUDE_10_DEPTH, mode=Mode.SUBTRACT)

    # 草图12 → 切除-拉伸11 (cut, symmetric)
    with BuildSketch(Plane.XY):
        with Locations((70.029622, 18.764381)):
            Circle(SKETCH_12_R)
        with Locations((51.265242, 51.265242)):
            Circle(SKETCH_12_R)
        with Locations((18.764381, 70.029622)):
            Circle(SKETCH_12_R)
        with Locations((-18.764381, 70.029622)):
            Circle(SKETCH_12_R)
        with Locations((-51.265242, 51.265242)):
            Circle(SKETCH_12_R)
        with Locations((-70.029622, 18.764381)):
            Circle(SKETCH_12_R)
        with Locations((-70.029622, -18.764381)):
            Circle(SKETCH_12_R)
        with Locations((-51.265242, -51.265242)):
            Circle(SKETCH_12_R)
        with Locations((-18.764381, -70.029622)):
            Circle(SKETCH_12_R)
        with Locations((18.764381, -70.029622)):
            Circle(SKETCH_12_R)
        with Locations((51.265242, -51.265242)):
            Circle(SKETCH_12_R)
        with Locations((70.029622, -18.764381)):
            Circle(SKETCH_12_R)
    extrude(amount=CUT_EXTRUDE_11_DEPTH, both=True, mode=Mode.SUBTRACT)

    # 倒角1
    chamfer_1_edges = [part.edges().sort_by_distance(p)[0] for p in [
        (-80, 0, 20),
    ]]
    chamfer(chamfer_1_edges, length=CHAMFER_1_SIZE)


solid = part.part
